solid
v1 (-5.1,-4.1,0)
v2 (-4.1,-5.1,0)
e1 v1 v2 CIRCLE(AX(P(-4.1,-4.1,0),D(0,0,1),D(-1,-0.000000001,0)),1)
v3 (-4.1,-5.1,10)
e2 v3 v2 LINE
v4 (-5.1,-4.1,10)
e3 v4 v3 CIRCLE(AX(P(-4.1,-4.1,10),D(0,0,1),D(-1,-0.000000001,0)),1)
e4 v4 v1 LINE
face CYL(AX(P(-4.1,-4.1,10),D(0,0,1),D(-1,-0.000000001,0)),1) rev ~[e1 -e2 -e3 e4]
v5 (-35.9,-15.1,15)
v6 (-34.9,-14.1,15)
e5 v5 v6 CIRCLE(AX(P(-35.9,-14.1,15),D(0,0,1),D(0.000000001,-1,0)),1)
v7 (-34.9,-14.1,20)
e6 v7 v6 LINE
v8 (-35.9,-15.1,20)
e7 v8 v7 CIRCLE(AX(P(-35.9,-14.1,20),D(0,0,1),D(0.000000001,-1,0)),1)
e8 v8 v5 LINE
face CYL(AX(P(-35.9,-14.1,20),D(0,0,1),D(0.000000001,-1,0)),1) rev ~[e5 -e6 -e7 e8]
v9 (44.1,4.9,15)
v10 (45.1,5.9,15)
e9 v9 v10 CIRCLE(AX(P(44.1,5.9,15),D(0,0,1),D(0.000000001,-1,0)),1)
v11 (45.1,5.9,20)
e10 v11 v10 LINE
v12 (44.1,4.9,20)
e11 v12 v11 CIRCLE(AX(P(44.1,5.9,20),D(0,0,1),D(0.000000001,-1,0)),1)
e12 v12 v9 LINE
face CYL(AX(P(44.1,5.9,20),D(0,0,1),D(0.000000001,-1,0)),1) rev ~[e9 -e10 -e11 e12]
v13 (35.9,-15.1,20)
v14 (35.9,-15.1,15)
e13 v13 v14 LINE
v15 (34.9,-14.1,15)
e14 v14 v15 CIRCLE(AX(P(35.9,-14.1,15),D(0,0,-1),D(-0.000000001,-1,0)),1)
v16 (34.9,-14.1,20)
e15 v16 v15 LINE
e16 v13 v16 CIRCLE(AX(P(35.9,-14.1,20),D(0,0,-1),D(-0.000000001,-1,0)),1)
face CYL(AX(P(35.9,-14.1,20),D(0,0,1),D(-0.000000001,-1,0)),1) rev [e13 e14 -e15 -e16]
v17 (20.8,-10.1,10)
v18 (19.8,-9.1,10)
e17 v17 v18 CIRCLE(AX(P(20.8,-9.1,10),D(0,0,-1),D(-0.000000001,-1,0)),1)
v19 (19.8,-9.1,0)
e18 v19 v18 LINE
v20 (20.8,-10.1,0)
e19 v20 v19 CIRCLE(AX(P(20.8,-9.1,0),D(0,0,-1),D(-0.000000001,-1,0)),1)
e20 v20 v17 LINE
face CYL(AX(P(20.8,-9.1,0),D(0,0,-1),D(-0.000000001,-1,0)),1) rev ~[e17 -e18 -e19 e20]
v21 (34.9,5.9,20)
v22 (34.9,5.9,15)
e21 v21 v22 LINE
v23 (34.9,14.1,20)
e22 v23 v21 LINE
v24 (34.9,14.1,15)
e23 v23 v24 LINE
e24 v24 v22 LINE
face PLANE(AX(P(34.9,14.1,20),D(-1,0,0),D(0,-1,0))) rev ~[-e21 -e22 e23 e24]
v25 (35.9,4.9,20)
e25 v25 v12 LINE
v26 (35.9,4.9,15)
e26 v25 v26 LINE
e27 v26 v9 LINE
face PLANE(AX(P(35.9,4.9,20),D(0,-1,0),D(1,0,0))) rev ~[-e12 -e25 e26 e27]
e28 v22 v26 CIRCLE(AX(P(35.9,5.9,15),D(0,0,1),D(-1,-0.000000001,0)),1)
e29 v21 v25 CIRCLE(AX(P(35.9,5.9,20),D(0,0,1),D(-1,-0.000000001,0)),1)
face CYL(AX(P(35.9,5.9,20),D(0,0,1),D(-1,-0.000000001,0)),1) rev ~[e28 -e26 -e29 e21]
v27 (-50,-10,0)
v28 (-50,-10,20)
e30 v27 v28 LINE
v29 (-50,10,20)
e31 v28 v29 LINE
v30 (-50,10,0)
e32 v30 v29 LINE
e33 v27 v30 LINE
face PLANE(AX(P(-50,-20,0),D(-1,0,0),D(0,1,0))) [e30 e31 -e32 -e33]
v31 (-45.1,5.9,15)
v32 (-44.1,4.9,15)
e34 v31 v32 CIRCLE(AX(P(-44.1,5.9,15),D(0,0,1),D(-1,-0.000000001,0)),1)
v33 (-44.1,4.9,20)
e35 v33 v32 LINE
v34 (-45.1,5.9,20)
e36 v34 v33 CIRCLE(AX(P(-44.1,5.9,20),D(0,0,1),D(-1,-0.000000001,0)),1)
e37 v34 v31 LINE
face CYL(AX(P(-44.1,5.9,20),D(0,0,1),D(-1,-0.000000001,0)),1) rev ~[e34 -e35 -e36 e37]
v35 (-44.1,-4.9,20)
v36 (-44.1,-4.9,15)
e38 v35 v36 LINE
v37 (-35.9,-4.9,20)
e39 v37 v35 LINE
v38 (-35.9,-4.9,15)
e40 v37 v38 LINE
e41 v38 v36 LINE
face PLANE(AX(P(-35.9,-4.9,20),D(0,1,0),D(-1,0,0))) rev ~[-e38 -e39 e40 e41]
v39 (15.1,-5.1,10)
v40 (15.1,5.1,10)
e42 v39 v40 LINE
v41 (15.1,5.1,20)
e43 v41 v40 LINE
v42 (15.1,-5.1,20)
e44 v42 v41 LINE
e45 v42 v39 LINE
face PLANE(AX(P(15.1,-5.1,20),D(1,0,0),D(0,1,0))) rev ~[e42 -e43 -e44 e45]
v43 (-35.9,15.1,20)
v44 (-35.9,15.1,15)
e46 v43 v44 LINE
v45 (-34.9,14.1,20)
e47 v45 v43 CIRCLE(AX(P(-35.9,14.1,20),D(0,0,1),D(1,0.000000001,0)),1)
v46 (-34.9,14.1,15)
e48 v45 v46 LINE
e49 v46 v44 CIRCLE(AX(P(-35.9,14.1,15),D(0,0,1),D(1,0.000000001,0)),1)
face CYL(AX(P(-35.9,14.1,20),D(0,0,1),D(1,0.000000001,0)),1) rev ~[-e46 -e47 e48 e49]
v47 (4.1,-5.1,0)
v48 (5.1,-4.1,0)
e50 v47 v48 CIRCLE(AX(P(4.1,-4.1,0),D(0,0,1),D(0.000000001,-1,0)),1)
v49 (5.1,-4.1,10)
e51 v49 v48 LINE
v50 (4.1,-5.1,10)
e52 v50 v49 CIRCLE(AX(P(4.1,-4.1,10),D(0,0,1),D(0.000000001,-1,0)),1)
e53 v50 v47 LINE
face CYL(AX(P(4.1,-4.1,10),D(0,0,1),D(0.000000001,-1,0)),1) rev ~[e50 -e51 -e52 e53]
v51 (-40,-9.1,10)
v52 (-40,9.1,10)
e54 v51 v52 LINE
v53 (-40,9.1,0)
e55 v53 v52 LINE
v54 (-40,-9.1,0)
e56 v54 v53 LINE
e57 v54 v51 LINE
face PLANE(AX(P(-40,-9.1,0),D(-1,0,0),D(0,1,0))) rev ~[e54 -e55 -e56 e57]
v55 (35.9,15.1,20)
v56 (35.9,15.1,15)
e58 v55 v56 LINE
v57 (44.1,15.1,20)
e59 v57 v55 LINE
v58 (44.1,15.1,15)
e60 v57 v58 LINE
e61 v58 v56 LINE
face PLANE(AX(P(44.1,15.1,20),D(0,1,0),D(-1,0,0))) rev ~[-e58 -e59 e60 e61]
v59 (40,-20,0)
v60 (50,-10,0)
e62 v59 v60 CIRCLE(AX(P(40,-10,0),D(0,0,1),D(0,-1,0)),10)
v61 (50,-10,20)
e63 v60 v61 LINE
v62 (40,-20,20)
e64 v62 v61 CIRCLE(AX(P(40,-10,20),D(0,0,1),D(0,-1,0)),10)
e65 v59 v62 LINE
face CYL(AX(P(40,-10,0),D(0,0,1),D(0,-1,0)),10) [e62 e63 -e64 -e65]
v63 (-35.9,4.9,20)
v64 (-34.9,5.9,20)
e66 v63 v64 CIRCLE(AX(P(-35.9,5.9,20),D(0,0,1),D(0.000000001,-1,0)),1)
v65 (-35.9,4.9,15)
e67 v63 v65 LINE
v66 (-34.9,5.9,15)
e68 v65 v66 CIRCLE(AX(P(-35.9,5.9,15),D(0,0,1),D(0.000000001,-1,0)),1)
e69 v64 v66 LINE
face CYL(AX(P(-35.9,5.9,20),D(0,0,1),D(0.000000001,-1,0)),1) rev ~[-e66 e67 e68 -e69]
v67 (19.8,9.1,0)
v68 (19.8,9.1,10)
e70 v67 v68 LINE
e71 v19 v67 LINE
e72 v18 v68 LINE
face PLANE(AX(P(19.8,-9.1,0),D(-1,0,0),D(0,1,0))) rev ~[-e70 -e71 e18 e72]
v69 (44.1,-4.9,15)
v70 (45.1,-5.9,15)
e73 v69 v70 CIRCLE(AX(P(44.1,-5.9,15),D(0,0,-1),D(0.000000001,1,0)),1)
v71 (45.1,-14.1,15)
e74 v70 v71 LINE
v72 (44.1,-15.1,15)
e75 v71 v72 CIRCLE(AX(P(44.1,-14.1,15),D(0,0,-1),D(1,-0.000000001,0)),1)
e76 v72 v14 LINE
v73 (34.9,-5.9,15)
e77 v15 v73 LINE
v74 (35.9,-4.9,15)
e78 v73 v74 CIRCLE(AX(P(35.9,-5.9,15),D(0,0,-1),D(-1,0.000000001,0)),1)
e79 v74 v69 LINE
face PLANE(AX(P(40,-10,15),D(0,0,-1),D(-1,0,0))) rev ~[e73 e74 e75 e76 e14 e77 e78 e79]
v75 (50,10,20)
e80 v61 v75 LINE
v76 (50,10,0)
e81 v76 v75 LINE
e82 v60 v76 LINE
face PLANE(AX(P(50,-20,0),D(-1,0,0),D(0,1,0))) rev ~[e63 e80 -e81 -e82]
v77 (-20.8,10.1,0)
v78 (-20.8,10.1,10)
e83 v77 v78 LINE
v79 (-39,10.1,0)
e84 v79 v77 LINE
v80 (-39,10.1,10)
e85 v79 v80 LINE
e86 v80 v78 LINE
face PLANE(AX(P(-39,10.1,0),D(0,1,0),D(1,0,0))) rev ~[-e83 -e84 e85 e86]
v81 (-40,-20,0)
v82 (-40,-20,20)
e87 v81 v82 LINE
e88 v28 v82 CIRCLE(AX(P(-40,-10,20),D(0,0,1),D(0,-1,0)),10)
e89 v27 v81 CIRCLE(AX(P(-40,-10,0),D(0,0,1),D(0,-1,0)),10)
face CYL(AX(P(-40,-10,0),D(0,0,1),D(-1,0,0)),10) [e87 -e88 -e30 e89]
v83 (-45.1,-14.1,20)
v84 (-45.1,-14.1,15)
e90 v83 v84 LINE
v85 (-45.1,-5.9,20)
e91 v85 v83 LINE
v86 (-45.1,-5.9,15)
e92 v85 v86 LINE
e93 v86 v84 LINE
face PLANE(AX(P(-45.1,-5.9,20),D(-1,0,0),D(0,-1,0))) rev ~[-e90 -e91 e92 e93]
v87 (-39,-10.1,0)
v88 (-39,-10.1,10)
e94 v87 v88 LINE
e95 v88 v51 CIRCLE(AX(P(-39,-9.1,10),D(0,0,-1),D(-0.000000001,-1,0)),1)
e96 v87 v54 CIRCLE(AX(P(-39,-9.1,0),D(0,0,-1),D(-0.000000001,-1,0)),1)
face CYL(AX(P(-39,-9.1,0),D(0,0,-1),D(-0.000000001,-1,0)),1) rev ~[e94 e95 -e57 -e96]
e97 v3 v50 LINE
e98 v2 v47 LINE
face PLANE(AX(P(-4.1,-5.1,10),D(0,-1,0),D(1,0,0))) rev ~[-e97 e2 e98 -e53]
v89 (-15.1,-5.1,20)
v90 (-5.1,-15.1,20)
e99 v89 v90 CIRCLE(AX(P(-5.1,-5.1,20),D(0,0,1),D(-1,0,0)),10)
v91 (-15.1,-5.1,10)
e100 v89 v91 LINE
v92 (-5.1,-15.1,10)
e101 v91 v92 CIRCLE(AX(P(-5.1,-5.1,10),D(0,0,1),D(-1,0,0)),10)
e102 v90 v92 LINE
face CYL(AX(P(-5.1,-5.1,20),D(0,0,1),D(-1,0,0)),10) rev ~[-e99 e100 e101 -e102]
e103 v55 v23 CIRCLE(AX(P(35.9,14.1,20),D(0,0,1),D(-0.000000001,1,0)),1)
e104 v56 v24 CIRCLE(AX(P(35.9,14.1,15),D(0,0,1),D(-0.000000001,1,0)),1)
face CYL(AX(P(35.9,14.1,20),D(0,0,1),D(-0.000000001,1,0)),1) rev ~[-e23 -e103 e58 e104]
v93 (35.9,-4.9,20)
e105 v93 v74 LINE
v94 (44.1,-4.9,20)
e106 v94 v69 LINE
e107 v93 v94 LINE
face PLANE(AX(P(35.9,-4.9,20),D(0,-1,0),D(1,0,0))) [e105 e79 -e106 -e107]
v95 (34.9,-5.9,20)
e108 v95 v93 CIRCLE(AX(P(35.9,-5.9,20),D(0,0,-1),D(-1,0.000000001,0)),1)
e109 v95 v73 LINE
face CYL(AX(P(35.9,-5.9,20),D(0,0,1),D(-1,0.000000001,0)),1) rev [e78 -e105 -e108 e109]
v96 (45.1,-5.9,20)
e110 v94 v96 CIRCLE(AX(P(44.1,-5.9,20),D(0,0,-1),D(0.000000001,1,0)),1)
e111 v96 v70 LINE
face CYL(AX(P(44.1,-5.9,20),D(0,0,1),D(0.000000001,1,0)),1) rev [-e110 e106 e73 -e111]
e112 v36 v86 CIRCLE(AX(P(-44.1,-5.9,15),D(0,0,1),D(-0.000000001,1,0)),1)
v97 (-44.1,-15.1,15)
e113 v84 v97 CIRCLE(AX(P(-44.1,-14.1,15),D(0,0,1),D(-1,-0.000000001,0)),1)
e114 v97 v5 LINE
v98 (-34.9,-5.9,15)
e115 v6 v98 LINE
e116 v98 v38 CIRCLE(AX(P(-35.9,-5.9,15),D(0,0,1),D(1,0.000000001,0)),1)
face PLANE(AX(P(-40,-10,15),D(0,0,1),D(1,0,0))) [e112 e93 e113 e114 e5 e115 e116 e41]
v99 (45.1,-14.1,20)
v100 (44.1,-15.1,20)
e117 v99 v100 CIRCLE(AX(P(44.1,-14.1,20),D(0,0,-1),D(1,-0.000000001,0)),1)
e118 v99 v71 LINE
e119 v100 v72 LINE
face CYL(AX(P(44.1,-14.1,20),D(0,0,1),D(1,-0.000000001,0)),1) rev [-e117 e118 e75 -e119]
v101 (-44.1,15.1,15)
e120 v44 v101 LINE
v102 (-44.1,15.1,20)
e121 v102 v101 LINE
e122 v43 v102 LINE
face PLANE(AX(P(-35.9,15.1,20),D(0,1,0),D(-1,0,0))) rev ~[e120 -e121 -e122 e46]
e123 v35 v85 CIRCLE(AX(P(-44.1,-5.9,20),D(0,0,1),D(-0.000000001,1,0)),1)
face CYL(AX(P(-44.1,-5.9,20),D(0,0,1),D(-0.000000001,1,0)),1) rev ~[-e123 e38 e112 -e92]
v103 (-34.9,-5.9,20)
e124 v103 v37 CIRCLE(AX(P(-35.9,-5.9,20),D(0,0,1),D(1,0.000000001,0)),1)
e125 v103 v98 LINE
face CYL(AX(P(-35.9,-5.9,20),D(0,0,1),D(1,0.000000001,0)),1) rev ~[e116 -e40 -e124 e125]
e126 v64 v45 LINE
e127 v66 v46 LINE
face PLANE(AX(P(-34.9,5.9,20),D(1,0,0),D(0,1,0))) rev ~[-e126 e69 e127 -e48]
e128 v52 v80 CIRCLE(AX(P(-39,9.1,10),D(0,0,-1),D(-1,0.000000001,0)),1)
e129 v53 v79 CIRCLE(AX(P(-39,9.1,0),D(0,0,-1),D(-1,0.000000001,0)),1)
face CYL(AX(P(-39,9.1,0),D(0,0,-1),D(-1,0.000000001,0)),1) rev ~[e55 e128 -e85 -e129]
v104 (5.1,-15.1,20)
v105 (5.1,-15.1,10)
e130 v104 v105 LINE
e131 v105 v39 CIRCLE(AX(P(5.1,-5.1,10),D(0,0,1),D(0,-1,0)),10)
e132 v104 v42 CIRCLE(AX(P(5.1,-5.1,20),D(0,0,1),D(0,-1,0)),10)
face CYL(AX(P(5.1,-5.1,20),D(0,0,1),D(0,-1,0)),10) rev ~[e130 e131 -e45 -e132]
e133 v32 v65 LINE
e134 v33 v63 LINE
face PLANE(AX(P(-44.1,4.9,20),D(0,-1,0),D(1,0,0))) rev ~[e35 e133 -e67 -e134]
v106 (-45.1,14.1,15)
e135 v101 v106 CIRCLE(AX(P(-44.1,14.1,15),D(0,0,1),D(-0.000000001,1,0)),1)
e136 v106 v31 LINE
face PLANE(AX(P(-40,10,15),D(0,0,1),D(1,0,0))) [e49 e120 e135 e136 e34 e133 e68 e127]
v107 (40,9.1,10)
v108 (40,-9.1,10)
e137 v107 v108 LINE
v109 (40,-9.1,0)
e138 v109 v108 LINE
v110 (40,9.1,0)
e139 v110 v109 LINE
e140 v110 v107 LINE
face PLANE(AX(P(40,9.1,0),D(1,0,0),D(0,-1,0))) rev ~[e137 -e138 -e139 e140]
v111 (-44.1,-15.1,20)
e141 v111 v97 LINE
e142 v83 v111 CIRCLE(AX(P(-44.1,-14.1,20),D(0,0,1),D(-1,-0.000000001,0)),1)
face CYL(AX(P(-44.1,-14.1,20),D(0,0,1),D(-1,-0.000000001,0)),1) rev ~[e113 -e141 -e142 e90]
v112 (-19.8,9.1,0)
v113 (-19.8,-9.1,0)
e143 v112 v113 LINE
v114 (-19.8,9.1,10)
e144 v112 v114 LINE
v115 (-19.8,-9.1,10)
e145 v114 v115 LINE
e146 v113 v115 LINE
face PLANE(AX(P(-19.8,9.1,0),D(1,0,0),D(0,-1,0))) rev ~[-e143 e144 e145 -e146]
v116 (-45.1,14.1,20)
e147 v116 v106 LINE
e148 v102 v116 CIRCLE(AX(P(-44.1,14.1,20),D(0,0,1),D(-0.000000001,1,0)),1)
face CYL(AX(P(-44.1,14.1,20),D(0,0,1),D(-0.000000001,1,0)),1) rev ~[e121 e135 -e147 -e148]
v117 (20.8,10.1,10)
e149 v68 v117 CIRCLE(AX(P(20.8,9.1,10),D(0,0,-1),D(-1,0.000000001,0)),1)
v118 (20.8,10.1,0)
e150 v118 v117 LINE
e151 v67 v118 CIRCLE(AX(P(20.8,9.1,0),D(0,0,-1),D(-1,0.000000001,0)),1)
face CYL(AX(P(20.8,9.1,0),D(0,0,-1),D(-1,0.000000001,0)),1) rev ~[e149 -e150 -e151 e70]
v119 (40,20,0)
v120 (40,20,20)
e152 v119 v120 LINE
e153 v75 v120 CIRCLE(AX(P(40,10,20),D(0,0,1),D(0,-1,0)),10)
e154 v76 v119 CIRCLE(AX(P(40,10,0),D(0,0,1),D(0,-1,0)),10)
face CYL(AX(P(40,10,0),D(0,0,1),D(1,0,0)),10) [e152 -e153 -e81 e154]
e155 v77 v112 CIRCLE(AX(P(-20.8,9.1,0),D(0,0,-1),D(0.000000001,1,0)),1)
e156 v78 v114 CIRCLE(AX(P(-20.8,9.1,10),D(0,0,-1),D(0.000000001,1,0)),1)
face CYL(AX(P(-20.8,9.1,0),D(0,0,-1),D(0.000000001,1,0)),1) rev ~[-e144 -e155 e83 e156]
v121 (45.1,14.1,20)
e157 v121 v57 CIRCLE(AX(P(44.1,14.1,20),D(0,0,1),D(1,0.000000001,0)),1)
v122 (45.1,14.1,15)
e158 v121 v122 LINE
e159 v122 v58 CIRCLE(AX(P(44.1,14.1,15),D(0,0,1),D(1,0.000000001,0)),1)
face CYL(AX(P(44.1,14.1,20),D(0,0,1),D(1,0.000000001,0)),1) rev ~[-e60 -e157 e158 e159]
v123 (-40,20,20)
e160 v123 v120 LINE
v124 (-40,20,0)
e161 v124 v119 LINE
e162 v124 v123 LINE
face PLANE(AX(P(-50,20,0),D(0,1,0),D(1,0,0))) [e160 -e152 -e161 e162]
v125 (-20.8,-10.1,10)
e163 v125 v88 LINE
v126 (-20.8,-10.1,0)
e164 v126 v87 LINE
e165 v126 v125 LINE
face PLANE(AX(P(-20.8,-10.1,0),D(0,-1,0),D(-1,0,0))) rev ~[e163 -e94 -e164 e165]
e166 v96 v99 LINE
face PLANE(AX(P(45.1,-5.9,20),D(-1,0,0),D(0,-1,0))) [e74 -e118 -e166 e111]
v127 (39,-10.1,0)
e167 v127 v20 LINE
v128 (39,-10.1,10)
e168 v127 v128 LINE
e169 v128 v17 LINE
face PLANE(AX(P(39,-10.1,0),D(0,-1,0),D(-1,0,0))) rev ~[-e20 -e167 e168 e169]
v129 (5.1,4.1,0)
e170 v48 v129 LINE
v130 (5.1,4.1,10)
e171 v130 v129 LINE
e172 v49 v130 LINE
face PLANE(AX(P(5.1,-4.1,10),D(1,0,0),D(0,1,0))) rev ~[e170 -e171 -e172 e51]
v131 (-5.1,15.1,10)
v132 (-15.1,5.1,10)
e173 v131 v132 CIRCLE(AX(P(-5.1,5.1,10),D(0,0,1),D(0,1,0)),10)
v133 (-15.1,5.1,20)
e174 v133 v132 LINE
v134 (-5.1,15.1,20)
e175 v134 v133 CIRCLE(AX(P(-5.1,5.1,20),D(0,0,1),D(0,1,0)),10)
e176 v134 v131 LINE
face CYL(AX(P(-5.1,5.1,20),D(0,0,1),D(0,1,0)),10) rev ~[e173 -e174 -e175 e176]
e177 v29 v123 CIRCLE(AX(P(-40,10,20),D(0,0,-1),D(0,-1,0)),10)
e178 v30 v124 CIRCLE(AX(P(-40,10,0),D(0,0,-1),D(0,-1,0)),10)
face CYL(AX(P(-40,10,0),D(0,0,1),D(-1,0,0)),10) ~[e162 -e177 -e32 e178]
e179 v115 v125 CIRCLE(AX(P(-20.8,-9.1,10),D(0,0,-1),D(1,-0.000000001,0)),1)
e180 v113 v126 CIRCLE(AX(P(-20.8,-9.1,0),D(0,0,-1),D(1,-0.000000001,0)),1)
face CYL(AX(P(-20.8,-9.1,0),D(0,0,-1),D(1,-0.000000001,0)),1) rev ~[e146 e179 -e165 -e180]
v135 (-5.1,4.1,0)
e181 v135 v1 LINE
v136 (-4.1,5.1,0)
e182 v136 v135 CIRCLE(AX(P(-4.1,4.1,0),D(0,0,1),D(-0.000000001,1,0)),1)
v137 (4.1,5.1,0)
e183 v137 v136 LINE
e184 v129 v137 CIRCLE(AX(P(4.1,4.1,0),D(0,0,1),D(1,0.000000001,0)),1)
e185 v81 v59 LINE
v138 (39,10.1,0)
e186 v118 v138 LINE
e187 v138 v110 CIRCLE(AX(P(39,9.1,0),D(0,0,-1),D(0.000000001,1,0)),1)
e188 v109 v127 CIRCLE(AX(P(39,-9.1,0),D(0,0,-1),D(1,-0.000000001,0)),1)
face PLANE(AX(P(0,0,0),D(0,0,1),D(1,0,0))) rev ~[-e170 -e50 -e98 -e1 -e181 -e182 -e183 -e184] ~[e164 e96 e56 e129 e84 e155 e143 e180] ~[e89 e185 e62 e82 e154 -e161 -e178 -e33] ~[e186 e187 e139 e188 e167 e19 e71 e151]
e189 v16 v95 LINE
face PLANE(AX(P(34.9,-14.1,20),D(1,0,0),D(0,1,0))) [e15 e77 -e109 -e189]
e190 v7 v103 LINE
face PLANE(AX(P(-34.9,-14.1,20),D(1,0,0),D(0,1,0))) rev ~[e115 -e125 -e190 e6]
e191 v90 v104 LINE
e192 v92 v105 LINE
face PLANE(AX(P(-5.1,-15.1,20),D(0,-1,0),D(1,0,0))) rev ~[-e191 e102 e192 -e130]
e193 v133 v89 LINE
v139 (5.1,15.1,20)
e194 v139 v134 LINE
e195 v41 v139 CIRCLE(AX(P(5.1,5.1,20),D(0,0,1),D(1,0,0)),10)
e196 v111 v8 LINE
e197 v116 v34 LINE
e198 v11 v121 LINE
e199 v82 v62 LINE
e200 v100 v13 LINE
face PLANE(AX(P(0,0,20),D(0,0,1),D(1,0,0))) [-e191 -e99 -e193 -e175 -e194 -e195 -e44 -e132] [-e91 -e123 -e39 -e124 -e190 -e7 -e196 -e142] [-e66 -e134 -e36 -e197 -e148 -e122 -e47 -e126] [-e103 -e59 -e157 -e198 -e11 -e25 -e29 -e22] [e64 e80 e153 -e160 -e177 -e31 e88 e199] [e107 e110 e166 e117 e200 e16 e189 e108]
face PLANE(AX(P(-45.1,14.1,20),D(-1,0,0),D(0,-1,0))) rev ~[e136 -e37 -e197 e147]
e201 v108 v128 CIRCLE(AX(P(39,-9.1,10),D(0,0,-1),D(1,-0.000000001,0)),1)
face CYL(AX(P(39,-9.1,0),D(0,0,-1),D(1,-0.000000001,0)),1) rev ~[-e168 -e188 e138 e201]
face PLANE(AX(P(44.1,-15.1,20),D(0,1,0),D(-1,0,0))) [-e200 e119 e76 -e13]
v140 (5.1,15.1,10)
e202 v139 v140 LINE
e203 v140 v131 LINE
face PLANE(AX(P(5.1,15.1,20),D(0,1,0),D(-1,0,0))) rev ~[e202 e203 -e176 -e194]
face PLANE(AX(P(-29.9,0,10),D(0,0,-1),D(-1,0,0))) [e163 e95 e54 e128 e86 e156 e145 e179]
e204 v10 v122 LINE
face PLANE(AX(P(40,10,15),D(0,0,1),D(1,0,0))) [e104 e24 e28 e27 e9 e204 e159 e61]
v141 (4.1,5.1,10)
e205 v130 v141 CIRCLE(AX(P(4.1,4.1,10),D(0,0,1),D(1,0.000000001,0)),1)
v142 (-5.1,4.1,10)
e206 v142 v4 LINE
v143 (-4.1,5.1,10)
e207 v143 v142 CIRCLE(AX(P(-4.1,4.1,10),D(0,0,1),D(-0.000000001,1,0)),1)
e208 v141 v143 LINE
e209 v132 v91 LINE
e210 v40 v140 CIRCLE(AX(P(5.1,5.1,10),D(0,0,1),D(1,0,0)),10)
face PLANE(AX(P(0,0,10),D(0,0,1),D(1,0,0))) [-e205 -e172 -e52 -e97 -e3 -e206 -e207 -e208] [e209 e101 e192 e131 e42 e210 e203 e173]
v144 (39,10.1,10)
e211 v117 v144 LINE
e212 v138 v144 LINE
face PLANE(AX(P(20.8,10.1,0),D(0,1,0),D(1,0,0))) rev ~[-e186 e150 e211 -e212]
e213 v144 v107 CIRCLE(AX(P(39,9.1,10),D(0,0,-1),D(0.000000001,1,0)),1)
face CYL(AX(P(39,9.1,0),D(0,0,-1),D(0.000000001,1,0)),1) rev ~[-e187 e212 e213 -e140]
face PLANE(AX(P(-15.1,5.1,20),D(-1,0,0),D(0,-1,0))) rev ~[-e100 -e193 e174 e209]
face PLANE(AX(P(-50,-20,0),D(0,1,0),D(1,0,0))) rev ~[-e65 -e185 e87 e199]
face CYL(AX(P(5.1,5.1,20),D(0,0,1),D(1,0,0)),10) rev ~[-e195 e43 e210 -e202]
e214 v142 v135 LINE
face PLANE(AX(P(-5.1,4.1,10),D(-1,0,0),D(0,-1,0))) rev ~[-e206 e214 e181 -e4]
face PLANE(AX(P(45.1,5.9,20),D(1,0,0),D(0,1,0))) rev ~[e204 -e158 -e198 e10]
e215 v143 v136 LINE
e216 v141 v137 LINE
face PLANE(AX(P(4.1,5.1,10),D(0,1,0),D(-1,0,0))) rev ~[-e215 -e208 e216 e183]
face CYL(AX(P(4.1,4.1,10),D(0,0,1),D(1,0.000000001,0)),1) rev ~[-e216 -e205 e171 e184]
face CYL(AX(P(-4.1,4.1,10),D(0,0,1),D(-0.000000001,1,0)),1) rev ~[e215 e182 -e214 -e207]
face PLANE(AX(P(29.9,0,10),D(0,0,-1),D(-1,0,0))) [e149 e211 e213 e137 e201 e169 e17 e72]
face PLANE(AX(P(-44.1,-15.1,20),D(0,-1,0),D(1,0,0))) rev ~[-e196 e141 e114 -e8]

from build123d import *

# Parameters (mm, degrees)
SKETCH_1_W          = 100
SKETCH_1_H          = 40
EXTRUDE_1_DEPTH     = 20
FILLET_2_R          = 10
CUT_EXTRUDE_1_DEPTH = 10
CUT_EXTRUDE_2_DEPTH = 55.772255751
CUT_EXTRUDE_3_DEPTH = 5
CUT_EXTRUDE_4_DEPTH = 10


with BuildPart() as part:
    # ｽｹｯﾁ1 → ﾎﾞｽ - 押し出し1 (new body)
    with BuildSketch(Plane.XY):
        Rectangle(SKETCH_1_W, SKETCH_1_H)
    extrude(amount=EXTRUDE_1_DEPTH)

    # ﾌｨﾚｯﾄ2
    fillet_2_edges = [part.edges().sort_by_distance(p)[0] for p in [
        (50, -20, 10),
        (-50, -20, 10),
        (-50, 20, 10),
        (50, 20, 10),
    ]]
    fillet(fillet_2_edges, radius=FILLET_2_R)

    # ｽｹｯﾁ2 → ｶｯﾄ - 押し出し1 (cut)
    with BuildSketch(Plane.XY.offset(20)):
        with BuildLine():
            Line((-5.1, -15.1), (5.1, -15.1))
            ThreePointArc((5.1, -15.1), (12.171067812, -12.171067812), (15.1, -5.1))
            Line((15.1, -5.1), (15.1, 5.1))
            ThreePointArc((15.1, 5.1), (12.171067812, 12.171067812), (5.1, 15.1))
            Line((5.1, 15.1), (-5.1, 15.1))
            ThreePointArc((-5.1, 15.1), (-12.171067812, 12.171067812), (-15.1, 5.1))
            Line((-15.1, 5.1), (-15.1, -5.1))
            ThreePointArc((-15.1, -5.1), (-12.171067812, -12.171067812), (-5.1, -15.1))
        make_face()
    extrude(amount=-CUT_EXTRUDE_1_DEPTH, mode=Mode.SUBTRACT)

    # ｽｹｯﾁ3 → ｶｯﾄ - 押し出し2 (cut, through all)
    with BuildSketch(Plane.XY.offset(10)):
        with BuildLine():
            Line((-4.1, -5.1), (4.1, -5.1))
            ThreePointArc((4.1, -5.1), (4.807106781, -4.807106781), (5.1, -4.1))
            Line((5.1, -4.1), (5.1, 4.1))
            ThreePointArc((5.1, 4.1), (4.807106781, 4.807106781), (4.1, 5.1))
            Line((4.1, 5.1), (-4.1, 5.1))
            ThreePointArc((-4.1, 5.1), (-4.807106781, 4.807106781), (-5.1, 4.1))
            Line((-5.1, 4.1), (-5.1, -4.1))
            ThreePointArc((-5.1, -4.1), (-4.807106781, -4.807106781), (-4.1, -5.1))
        make_face()
    extrude(amount=-CUT_EXTRUDE_2_DEPTH, mode=Mode.SUBTRACT)

    # ｽｹｯﾁ4 → ｶｯﾄ - 押し出し3 (cut)
    with BuildSketch(Plane.XY.offset(20)):
        with BuildLine():
            Line((44.1, 15.1), (35.9, 15.1))
            ThreePointArc((35.9, 15.1), (35.192893219, 14.807106781), (34.9, 14.1))
            Line((34.9, 14.1), (34.9, 5.9))
            ThreePointArc((34.9, 5.9), (35.192893219, 5.192893219), (35.9, 4.9))
            Line((35.9, 4.9), (44.1, 4.9))
            ThreePointArc((44.1, 4.9), (44.807106781, 5.192893219), (45.1, 5.9))
            Line((45.1, 5.9), (45.1, 14.1))
            ThreePointArc((45.1, 14.1), (44.807106781, 14.807106781), (44.1, 15.1))
        make_face()
        with BuildLine():
            Line((-44.1, 4.9), (-35.9, 4.9))
            ThreePointArc((-35.9, 4.9), (-35.192893219, 5.192893219), (-34.9, 5.9))
            Line((-34.9, 5.9), (-34.9, 14.1))
            ThreePointArc((-34.9, 14.1), (-35.192893219, 14.807106781), (-35.9, 15.1))
            Line((-35.9, 15.1), (-44.1, 15.1))
            ThreePointArc((-44.1, 15.1), (-44.807106781, 14.807106781), (-45.1, 14.1))
            Line((-45.1, 14.1), (-45.1, 5.9))
            ThreePointArc((-45.1, 5.9), (-44.807106781, 5.192893219), (-44.1, 4.9))
        make_face()
        with BuildLine():
            Line((45.1, -5.9), (45.1, -14.1))
            ThreePointArc((45.1, -14.1), (44.807106781, -14.807106781), (44.1, -15.1))
            Line((44.1, -15.1), (35.9, -15.1))
            ThreePointArc((35.9, -15.1), (35.192893219, -14.807106781), (34.9, -14.1))
            Line((34.9, -14.1), (34.9, -5.9))
            ThreePointArc((34.9, -5.9), (35.192893219, -5.192893219), (35.9, -4.9))
            Line((35.9, -4.9), (44.1, -4.9))
            ThreePointArc((44.1, -4.9), (44.807106781, -5.192893219), (45.1, -5.9))
        make_face()
        with BuildLine():
            Line((-44.1, -15.1), (-35.9, -15.1))
            ThreePointArc((-35.9, -15.1), (-35.192893219, -14.807106781), (-34.9, -14.1))
            Line((-34.9, -14.1), (-34.9, -5.9))
            ThreePointArc((-34.9, -5.9), (-35.192893219, -5.192893219), (-35.9, -4.9))
            Line((-35.9, -4.9), (-44.1, -4.9))
            ThreePointArc((-44.1, -4.9), (-44.807106781, -5.192893219), (-45.1, -5.9))
            Line((-45.1, -5.9), (-45.1, -14.1))
            ThreePointArc((-45.1, -14.1), (-44.807106781, -14.807106781), (-44.1, -15.1))
        make_face()
    extrude(amount=-CUT_EXTRUDE_3_DEPTH, mode=Mode.SUBTRACT)

    # ｽｹｯﾁ5 → ｶｯﾄ - 押し出し4 (cut)
    with BuildSketch(Plane(origin=(0, 0, 0), x_dir=(-1, 0, 0), z_dir=(0, 0, -1))):
        with BuildLine():
            Line((-39, -10.1), (-20.8, -10.1))
            ThreePointArc((-20.8, -10.1), (-20.092893219, -9.807106781), (-19.8, -9.1))
            Line((-19.8, -9.1), (-19.8, 9.1))
            ThreePointArc((-19.8, 9.1), (-20.092893219, 9.807106781), (-20.8, 10.1))
            Line((-20.8, 10.1), (-39, 10.1))
            ThreePointArc((-39, 10.1), (-39.707106781, 9.807106781), (-40, 9.1))
            Line((-40, 9.1), (-40, -9.1))
            ThreePointArc((-40, -9.1), (-39.707106781, -9.807106781), (-39, -10.1))
        make_face()
        with BuildLine():
            Line((20.8, -10.1), (39, -10.1))
            ThreePointArc((39, -10.1), (39.707106781, -9.807106781), (40, -9.1))
            Line((40, -9.1), (40, 9.1))
            ThreePointArc((40, 9.1), (39.707106781, 9.807106781), (39, 10.1))
            Line((39, 10.1), (20.8, 10.1))
            ThreePointArc((20.8, 10.1), (20.092893219, 9.807106781), (19.8, 9.1))
            Line((19.8, 9.1), (19.8, -9.1))
            ThreePointArc((19.8, -9.1), (20.092893219, -9.807106781), (20.8, -10.1))
        make_face()
    extrude(amount=-CUT_EXTRUDE_4_DEPTH, mode=Mode.SUBTRACT)


solid = part.part
